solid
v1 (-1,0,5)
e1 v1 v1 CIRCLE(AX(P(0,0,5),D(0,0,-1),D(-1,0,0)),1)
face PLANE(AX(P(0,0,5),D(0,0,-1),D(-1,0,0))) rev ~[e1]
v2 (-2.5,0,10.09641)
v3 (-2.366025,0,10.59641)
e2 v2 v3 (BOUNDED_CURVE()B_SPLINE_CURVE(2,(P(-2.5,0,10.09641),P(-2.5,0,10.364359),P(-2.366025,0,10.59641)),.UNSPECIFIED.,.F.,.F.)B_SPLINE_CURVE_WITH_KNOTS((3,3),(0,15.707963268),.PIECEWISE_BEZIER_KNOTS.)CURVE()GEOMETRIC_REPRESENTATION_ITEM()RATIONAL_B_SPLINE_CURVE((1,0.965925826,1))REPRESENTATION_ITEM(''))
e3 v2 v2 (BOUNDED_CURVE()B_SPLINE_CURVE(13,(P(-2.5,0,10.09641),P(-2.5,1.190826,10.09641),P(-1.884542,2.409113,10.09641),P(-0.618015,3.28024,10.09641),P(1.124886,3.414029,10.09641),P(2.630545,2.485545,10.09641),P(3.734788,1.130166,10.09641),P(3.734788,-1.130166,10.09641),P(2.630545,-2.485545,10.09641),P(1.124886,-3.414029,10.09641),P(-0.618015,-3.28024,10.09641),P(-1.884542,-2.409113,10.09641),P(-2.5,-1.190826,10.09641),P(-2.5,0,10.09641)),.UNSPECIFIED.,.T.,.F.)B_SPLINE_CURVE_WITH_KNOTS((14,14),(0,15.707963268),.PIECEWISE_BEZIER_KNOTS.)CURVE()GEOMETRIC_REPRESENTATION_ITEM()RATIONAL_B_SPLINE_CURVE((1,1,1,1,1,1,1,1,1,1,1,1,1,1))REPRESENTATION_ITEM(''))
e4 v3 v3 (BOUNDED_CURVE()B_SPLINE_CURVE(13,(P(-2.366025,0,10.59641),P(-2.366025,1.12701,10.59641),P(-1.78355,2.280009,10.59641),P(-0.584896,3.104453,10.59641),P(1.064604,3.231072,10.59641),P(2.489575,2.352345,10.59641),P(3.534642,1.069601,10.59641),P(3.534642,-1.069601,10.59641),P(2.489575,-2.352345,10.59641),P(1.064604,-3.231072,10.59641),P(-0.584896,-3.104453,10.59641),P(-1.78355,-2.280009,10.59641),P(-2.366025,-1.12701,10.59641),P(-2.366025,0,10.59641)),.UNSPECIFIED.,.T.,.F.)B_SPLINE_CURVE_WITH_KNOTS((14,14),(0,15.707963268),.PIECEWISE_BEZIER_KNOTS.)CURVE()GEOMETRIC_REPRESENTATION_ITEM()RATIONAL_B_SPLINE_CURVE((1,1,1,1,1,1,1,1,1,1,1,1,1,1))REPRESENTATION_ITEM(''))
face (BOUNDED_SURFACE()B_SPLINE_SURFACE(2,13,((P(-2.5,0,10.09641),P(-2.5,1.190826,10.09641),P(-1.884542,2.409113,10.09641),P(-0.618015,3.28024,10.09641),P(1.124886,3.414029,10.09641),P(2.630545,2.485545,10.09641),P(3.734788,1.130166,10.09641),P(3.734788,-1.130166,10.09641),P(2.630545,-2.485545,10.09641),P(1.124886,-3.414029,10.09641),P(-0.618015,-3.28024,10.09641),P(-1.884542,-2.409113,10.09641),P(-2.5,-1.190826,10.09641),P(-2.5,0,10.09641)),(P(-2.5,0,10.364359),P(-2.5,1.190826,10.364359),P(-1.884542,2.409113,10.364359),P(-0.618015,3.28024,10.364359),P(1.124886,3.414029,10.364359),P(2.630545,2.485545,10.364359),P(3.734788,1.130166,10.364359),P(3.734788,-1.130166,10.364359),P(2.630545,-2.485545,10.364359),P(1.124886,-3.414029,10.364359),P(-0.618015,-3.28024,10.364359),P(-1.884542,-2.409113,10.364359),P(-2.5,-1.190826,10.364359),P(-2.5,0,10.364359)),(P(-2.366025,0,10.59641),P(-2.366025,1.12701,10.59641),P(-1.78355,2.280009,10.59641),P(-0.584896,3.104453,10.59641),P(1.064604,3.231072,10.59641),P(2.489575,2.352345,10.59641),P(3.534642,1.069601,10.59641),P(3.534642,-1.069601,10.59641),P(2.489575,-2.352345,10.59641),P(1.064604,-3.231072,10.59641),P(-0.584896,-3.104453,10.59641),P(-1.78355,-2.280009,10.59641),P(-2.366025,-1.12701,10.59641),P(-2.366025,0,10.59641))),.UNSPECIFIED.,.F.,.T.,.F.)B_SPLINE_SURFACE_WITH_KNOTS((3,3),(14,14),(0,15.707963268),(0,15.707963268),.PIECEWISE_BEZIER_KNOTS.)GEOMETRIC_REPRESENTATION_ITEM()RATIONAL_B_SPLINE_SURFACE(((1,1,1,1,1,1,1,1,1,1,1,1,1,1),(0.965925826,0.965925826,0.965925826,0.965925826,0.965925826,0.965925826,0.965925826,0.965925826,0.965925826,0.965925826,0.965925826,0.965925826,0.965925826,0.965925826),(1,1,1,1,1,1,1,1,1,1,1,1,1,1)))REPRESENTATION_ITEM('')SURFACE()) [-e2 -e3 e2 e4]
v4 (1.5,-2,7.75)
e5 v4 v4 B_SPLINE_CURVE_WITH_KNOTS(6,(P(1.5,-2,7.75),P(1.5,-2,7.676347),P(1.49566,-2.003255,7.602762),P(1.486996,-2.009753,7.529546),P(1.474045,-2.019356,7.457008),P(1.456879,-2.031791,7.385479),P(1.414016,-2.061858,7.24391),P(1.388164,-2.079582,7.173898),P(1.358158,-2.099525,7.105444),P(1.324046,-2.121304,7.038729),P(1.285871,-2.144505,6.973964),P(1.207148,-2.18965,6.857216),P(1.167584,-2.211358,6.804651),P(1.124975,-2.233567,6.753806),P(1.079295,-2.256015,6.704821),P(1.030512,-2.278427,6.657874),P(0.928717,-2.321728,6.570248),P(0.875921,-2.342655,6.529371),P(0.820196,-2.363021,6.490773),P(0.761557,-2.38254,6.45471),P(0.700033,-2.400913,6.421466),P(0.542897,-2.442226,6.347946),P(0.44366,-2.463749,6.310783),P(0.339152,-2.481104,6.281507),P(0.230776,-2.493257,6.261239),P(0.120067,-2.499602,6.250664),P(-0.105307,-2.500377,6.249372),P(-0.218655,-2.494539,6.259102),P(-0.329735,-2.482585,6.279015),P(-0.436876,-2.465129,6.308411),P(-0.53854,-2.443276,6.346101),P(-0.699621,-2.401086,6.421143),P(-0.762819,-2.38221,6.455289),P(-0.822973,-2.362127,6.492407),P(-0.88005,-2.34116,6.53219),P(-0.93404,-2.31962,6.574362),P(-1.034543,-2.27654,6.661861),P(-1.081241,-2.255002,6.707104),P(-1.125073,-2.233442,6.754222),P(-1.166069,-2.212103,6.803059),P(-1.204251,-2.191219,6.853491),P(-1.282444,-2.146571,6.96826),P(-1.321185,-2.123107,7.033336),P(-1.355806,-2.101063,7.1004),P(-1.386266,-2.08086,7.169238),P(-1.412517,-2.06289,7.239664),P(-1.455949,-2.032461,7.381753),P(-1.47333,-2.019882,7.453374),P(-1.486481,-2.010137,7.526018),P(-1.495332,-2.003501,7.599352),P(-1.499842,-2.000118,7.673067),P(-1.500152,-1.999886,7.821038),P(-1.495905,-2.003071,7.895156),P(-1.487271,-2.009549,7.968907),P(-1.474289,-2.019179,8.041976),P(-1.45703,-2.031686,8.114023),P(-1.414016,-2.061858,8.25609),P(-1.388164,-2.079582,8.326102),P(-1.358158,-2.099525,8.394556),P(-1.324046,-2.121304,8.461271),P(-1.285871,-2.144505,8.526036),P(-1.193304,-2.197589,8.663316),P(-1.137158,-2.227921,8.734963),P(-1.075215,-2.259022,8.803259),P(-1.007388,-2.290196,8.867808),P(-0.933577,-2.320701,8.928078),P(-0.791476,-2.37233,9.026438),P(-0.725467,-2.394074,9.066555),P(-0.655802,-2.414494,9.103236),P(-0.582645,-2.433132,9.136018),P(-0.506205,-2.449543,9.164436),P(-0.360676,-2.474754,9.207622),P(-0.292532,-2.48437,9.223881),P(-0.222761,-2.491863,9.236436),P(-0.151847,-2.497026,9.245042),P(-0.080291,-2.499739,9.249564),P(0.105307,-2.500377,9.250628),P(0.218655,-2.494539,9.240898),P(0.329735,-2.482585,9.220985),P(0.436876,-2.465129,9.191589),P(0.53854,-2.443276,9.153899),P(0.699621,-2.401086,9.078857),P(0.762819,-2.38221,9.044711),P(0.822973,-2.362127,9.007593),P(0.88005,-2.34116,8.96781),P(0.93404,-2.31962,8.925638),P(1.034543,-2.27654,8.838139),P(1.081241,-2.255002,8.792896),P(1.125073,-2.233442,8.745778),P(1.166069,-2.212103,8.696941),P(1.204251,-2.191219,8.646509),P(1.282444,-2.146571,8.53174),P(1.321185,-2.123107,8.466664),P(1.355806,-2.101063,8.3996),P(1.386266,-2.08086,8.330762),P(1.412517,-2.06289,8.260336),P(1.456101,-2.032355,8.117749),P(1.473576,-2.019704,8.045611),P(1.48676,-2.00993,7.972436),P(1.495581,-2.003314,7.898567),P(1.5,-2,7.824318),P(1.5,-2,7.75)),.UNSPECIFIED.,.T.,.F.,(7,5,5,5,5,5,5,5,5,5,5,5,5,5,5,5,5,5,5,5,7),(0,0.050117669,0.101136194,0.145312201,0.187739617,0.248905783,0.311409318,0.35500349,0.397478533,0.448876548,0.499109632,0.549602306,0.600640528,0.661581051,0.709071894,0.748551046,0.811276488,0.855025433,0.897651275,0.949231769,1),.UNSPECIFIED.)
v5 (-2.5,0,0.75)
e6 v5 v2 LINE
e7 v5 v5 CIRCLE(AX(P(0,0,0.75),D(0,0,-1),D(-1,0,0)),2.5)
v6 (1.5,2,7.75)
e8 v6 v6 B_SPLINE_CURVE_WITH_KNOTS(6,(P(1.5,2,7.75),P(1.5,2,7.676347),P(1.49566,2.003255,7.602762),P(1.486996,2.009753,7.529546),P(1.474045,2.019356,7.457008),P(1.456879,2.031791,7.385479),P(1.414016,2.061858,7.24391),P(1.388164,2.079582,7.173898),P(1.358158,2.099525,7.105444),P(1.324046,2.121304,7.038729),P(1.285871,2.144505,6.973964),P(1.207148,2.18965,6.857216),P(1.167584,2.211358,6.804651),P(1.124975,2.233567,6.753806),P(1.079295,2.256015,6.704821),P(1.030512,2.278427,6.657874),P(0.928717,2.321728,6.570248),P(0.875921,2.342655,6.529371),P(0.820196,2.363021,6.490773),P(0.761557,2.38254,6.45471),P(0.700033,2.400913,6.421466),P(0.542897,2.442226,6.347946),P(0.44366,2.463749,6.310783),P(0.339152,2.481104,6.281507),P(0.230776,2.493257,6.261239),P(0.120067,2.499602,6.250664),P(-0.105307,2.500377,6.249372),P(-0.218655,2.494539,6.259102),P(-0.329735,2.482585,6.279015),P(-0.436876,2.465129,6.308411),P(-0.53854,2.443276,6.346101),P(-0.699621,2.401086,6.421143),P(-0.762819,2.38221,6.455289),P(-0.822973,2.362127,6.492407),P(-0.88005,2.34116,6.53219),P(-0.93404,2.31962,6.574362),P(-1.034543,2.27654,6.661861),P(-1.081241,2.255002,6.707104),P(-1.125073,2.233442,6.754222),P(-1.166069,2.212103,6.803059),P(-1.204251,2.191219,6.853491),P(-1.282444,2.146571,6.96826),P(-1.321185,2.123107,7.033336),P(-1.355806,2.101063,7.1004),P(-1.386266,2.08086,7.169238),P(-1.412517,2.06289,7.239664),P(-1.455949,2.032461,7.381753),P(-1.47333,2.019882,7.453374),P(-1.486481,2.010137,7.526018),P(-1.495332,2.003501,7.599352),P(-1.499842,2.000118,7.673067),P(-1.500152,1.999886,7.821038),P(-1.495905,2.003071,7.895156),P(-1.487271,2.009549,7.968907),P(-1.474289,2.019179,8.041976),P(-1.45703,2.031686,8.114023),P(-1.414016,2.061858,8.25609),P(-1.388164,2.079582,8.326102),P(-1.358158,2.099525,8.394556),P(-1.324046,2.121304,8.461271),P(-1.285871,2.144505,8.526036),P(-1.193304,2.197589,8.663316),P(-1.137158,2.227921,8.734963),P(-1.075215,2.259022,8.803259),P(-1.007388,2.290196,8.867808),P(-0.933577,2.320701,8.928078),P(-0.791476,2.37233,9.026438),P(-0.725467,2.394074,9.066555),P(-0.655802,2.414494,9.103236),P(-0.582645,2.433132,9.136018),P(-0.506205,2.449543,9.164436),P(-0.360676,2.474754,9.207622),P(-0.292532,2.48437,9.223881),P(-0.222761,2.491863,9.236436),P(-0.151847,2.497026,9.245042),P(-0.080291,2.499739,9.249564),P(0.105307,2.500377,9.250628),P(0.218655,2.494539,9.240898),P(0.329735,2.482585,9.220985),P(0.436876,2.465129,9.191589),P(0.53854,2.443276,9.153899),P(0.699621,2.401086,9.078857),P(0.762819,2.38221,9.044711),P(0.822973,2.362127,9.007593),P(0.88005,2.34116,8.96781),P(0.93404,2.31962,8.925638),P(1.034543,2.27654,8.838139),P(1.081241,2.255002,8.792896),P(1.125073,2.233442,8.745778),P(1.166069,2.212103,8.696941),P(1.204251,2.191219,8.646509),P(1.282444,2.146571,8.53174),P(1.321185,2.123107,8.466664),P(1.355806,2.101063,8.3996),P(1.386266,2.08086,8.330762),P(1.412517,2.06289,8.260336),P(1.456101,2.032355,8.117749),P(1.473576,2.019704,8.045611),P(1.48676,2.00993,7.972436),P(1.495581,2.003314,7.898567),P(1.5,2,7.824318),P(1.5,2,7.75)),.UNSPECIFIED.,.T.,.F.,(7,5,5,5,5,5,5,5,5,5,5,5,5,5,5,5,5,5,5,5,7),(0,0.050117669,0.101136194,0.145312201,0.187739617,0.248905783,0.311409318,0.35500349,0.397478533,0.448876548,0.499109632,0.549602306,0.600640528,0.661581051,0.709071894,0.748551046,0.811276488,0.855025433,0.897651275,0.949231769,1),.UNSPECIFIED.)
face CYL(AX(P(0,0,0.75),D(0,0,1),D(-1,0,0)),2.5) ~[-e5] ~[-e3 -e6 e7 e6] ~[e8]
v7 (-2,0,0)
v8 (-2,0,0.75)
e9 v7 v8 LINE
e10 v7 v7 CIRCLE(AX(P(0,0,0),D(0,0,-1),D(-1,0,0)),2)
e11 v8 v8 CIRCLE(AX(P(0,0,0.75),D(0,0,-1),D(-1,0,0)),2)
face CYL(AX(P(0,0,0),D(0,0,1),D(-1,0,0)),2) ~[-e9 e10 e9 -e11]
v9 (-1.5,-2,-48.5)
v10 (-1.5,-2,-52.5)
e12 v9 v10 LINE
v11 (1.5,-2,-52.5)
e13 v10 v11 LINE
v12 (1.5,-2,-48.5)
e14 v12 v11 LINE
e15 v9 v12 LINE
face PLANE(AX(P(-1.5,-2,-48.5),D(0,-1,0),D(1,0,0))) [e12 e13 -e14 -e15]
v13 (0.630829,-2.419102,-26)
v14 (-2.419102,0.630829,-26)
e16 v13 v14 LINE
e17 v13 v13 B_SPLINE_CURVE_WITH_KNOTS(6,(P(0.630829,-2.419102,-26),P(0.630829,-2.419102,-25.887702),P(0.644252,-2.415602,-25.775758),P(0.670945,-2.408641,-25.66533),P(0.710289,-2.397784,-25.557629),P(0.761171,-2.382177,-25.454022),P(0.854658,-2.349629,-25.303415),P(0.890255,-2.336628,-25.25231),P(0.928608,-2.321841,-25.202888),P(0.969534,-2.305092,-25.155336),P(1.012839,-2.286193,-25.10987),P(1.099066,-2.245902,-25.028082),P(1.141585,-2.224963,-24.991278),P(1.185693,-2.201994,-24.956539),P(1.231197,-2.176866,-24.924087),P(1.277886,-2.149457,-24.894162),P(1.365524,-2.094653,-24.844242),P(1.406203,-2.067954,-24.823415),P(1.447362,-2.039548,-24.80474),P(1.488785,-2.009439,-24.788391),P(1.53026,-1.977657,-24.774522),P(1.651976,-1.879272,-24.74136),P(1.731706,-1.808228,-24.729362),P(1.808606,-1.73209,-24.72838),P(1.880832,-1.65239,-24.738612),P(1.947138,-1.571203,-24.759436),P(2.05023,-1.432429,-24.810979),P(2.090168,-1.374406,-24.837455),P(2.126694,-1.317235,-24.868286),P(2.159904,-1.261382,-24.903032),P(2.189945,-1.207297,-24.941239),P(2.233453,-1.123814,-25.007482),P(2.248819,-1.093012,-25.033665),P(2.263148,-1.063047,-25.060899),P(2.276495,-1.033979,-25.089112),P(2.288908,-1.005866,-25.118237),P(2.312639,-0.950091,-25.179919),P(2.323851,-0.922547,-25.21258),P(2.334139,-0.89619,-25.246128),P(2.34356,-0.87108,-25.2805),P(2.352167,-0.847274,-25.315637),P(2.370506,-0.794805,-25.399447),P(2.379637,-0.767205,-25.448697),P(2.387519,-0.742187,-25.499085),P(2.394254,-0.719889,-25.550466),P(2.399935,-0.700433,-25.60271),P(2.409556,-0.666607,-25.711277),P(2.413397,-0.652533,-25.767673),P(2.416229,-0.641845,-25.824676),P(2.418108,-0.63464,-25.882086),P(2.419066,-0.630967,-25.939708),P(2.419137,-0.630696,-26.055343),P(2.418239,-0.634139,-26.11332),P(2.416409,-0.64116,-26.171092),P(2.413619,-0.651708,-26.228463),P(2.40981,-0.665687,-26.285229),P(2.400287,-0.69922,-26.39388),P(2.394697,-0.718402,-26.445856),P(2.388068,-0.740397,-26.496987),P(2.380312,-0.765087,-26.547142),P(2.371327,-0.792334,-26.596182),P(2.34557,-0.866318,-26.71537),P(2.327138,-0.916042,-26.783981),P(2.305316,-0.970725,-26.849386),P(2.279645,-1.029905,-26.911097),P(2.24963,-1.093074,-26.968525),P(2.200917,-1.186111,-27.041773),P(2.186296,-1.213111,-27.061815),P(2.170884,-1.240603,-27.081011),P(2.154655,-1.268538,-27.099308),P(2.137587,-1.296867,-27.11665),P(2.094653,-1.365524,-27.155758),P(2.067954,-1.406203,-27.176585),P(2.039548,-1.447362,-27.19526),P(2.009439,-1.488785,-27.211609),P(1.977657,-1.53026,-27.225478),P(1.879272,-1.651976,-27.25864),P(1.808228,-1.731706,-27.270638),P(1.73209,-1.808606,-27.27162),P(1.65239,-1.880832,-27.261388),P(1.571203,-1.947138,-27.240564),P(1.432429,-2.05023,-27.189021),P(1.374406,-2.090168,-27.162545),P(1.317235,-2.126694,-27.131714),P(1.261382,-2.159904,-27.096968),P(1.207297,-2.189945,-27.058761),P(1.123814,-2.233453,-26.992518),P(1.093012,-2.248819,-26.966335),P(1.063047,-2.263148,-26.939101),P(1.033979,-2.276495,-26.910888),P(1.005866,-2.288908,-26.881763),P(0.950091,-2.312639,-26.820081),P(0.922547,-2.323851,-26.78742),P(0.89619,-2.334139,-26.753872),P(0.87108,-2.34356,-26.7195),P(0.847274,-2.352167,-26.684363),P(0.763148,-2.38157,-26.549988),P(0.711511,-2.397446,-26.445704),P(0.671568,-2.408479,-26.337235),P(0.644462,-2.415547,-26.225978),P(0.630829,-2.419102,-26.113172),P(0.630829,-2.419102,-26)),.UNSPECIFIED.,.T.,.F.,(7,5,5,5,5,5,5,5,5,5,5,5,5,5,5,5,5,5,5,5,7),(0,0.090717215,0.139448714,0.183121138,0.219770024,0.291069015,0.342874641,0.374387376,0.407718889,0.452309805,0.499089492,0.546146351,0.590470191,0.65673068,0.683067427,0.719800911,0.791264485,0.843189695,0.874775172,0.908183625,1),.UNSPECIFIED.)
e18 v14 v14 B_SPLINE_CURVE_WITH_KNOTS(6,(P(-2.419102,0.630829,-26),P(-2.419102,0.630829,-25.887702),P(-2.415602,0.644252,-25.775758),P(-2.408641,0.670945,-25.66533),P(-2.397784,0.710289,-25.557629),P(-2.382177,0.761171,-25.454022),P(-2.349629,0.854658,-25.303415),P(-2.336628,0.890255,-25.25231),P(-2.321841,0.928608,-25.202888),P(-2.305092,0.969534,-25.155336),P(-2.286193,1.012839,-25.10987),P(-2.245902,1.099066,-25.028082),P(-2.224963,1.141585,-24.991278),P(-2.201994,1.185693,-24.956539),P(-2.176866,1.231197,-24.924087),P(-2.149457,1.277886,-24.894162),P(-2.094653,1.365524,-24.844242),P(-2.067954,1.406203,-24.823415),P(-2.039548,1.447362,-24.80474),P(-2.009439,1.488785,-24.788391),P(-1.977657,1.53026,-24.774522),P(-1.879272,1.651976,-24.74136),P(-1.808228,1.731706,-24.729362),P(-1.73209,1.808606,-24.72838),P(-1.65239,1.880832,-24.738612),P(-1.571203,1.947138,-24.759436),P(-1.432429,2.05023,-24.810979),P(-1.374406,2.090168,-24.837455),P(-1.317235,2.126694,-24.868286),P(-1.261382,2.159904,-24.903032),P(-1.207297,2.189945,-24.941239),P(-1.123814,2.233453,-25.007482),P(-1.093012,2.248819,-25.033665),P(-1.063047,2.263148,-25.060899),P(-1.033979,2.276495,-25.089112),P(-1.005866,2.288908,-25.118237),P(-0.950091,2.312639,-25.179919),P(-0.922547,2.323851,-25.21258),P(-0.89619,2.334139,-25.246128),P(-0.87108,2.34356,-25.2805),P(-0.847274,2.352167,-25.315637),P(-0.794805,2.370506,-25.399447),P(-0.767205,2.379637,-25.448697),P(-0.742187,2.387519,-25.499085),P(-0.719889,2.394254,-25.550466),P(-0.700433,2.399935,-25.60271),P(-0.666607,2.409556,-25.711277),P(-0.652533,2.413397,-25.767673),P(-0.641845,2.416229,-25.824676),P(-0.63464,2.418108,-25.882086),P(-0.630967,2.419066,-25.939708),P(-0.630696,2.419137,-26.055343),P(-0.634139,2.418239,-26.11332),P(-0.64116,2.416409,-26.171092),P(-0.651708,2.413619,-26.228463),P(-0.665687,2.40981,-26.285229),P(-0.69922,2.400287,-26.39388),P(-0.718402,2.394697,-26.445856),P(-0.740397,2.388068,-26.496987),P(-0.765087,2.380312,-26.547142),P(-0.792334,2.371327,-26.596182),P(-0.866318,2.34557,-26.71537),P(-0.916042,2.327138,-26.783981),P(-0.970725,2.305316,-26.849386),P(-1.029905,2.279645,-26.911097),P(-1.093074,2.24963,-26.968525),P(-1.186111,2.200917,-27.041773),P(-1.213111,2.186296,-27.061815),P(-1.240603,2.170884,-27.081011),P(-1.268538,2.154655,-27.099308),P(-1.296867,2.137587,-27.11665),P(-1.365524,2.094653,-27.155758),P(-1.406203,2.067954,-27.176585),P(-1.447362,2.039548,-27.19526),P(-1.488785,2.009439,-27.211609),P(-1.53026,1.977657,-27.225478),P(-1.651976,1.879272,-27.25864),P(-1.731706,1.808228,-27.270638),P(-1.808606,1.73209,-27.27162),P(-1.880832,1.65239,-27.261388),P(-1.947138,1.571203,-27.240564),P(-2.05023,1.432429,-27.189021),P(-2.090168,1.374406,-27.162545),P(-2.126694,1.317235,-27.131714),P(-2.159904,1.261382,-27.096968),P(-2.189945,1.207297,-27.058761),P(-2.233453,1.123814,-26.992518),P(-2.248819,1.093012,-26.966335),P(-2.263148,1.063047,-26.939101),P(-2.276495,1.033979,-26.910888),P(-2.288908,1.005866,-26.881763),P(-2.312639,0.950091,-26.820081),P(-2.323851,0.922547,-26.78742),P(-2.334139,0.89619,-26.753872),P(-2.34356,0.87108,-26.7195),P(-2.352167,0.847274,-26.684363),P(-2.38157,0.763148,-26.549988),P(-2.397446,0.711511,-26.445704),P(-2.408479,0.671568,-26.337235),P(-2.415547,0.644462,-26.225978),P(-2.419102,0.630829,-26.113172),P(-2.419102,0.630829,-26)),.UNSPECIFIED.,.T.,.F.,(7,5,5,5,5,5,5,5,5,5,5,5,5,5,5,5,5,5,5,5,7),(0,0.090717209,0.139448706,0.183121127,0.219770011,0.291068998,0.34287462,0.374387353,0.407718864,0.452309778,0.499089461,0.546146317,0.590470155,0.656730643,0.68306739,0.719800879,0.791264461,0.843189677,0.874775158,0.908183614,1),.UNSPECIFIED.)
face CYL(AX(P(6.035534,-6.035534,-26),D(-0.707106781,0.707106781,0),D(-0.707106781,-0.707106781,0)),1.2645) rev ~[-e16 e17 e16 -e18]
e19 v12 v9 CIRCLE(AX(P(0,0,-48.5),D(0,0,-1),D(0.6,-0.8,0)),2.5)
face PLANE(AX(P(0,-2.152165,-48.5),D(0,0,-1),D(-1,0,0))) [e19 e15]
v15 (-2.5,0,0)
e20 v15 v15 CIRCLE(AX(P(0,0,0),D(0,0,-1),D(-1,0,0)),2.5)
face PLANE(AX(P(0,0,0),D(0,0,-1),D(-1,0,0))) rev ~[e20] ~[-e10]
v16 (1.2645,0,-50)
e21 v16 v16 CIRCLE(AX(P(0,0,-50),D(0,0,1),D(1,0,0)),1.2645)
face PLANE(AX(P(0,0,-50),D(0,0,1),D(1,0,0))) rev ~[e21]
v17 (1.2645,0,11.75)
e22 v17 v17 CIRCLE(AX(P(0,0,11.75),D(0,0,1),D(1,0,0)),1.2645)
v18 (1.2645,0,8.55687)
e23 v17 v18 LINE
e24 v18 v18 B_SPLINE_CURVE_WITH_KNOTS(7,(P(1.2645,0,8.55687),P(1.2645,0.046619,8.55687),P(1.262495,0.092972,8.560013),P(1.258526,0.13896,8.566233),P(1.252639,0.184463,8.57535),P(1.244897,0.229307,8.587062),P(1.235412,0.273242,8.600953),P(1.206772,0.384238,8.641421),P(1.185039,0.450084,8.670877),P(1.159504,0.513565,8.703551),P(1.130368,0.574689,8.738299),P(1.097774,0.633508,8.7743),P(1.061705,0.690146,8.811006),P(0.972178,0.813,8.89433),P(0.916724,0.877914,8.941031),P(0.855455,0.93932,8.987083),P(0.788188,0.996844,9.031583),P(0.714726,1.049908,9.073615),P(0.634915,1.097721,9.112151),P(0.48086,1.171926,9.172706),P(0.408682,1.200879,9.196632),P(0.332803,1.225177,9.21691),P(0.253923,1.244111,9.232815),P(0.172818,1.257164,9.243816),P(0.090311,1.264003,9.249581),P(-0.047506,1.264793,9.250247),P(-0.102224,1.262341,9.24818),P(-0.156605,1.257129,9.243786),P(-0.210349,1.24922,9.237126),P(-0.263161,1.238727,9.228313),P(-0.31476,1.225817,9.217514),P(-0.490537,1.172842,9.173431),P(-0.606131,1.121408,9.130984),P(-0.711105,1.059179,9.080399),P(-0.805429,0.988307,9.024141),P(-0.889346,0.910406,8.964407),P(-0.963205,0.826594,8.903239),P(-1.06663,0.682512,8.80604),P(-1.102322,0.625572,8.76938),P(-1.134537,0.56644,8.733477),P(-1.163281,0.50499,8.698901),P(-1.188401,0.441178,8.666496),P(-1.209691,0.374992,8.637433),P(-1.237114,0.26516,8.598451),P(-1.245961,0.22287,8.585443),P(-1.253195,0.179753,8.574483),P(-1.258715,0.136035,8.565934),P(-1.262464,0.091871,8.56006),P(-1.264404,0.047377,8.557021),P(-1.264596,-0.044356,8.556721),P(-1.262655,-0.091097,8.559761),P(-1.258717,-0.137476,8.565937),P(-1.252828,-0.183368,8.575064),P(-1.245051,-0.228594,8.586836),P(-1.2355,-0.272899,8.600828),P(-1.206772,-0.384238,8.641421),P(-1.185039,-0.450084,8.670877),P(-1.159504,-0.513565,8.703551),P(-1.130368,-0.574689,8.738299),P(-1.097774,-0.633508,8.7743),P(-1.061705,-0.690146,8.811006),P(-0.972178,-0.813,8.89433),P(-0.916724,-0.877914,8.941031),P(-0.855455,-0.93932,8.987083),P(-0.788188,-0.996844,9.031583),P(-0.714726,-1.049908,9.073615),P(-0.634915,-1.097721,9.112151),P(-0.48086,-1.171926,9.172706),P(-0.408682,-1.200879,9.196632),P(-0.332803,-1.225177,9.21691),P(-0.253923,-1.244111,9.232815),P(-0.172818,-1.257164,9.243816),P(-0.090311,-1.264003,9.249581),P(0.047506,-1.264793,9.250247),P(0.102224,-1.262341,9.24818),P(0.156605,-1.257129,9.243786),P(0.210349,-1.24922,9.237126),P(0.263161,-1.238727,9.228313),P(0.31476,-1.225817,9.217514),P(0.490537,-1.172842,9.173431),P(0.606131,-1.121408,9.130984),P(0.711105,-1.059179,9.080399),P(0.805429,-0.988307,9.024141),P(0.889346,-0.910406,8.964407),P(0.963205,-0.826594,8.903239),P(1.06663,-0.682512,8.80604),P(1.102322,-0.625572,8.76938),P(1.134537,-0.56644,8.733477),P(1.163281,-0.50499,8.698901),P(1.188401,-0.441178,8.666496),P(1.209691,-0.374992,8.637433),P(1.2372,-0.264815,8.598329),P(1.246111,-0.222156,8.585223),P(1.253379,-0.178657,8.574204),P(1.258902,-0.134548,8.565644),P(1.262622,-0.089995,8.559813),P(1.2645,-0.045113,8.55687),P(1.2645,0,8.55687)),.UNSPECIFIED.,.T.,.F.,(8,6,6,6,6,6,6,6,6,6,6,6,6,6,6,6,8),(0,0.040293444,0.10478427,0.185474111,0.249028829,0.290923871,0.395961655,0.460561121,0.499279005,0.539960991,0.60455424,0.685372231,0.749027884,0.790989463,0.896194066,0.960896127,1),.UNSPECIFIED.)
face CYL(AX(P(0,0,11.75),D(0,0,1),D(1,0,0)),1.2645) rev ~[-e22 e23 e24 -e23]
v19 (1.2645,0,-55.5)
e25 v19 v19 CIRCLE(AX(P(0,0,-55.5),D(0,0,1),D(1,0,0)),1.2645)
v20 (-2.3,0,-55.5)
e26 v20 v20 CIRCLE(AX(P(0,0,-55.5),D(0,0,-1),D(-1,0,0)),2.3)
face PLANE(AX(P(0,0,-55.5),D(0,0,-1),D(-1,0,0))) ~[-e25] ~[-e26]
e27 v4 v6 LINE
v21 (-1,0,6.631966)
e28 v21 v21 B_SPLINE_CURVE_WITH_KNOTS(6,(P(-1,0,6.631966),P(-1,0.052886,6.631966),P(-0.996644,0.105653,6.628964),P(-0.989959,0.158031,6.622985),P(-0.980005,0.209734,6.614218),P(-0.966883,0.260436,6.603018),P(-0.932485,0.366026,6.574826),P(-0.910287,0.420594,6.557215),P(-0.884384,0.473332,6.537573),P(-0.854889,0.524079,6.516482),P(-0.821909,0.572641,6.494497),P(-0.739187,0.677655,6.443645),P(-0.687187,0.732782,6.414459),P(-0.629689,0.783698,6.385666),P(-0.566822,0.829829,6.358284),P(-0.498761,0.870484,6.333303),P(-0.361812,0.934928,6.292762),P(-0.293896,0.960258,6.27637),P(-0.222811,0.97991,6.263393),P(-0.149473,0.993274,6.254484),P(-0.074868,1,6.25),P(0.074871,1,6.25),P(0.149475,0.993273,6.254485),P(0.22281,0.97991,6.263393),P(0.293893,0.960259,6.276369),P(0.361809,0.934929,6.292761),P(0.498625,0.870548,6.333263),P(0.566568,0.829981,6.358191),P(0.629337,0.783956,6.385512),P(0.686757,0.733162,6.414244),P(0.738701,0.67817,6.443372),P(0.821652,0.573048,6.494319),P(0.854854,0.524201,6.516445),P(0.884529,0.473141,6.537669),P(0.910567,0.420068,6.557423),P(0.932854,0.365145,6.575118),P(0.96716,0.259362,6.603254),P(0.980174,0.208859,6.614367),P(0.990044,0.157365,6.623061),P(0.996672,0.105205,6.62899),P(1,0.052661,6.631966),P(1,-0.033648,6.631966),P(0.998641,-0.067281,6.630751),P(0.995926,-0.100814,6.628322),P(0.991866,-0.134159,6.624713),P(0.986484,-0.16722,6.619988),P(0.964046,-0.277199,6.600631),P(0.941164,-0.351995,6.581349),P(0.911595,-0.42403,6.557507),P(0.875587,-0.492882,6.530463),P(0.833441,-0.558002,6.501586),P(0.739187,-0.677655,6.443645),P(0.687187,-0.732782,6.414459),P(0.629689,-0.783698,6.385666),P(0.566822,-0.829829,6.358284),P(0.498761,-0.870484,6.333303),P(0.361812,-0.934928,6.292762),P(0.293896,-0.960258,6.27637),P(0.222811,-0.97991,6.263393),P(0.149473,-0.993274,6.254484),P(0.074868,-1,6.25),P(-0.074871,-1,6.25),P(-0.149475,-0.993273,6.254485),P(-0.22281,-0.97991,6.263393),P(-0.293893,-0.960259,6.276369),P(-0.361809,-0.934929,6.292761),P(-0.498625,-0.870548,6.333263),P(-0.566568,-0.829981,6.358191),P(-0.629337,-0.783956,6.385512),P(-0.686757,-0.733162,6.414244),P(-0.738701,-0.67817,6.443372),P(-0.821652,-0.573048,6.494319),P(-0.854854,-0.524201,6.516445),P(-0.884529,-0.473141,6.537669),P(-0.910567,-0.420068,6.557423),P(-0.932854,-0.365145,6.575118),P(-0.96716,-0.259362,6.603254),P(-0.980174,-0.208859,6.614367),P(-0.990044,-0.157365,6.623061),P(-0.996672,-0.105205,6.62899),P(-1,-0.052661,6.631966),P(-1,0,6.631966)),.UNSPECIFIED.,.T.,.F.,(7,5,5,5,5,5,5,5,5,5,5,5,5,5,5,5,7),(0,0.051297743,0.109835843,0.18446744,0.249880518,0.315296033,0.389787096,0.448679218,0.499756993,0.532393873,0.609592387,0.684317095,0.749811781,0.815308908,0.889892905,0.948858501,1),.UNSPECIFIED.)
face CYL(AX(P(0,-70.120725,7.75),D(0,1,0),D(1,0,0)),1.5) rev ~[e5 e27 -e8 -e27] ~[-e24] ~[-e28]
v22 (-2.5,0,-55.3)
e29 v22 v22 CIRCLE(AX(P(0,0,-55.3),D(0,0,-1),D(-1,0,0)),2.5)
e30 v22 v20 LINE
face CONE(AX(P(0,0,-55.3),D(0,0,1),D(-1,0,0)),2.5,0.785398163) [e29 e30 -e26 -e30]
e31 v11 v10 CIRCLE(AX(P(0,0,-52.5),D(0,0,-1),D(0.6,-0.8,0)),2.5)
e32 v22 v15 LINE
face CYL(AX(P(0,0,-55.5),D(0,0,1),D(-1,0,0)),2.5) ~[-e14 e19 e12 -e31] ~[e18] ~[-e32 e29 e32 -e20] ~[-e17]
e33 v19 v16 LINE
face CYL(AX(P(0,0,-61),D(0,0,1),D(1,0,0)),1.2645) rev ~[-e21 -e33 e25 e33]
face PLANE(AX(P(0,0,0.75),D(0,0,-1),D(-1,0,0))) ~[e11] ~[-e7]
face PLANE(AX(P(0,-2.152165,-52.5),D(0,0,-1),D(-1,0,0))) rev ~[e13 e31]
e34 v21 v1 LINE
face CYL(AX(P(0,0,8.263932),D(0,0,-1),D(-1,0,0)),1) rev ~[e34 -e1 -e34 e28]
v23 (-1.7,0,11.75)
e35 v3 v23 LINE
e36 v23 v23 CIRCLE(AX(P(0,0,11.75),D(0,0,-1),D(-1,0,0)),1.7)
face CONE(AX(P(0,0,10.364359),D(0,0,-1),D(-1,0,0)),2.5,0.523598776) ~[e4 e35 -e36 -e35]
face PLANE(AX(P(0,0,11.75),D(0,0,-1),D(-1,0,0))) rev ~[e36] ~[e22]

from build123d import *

# Parameters (mm, degrees)
CUT_EXTRUDE1_START           = -4
CUT_EXTRUDE1_DEPTH           = 4
F_3_0_3_DIAMETER_HOLE1_D     = 3
M2_CLEARANCE_HOLE1_REACH     = 69.343
M2_CLEARANCE_HOLE1_BORE_R    = 1.2645
F_2_0_2_DIAMETER_HOLE1_D     = 2
F_2_0_2_DIAMETER_HOLE1_DEPTH = 1.631966011
M2_CLEARANCE_HOLE2_D         = 2.529
M2_CLEARANCE_HOLE2_DEPTH     = 5.5
M2_CLEARANCE_HOLE3_D         = 2.529
M2_CLEARANCE_HOLE3_DEPTH     = 6.035533906
CHAMFER1_SIZE                = 0.2
FILLET1_R                    = 1


with BuildPart() as part:
    # Sketch1 → Revolve1 (revolve)
    with BuildSketch(Plane.XZ, mode=Mode.PRIVATE) as revolve1_sk:
        Polygon((1.7, 11.75), (0, 11.75), (0, -55.5), (2.5, -55.5), (2.5, 0), (2, 0), (2, 0.75), (2.5, 0.75), (2.5, 10.364359354), align=None)
    revolve(revolve1_sk.sketch.rotate(Axis((0, 0, 11.75), (0, 0, -1)), 180), axis=Axis((0, 0, 11.75), (0, 0, -1)))

    # Sketch2 → Cut-Extrude1 (cut)
    with BuildSketch(Plane(origin=(0, 0, -52.5), x_dir=(-1, 0, 0), z_dir=(0, 0, -1)).offset(CUT_EXTRUDE1_START)):
        with BuildLine():
            Line((1.5, -2), (-1.5, -2))
            ThreePointArc((-1.5, -2), (0, -2.5), (1.5, -2))
        make_face()
    extrude(amount=CUT_EXTRUDE1_DEPTH, mode=Mode.SUBTRACT)

    # Ø3.0 (3) Diameter Hole1 (through all)
    with Locations(Plane(origin=(0, -2.5, 7.75), x_dir=(-1, 0, 0), z_dir=(0, -1, 0))):
        with Locations((0, 0)):
            Hole(F_3_0_3_DIAMETER_HOLE1_D / 2)

    # M2 Clearance Hole1 bore → M2 Clearance Hole1 (cut, up to next)
    with BuildSketch(Plane.XY.offset(11.75), mode=Mode.PRIVATE) as m2_clearance_hole1_sk1:
        Circle(M2_CLEARANCE_HOLE1_BORE_R)
    m2_clearance_hole1_tool1 = extrude(m2_clearance_hole1_sk1.sketch, amount=-M2_CLEARANCE_HOLE1_REACH, mode=Mode.PRIVATE) & part.part
    add(m2_clearance_hole1_tool1.solids().sort_by_distance((0, 0, 11.75))[0], mode=Mode.SUBTRACT)

    # Ø2.0 (2) Diameter Hole1
    with Locations(Plane.XY.offset(6.631966011)):
        with Locations((0, 0)):
            Hole(F_2_0_2_DIAMETER_HOLE1_D / 2, depth=F_2_0_2_DIAMETER_HOLE1_DEPTH)

    # M2 Clearance Hole2
    with Locations(Plane(origin=(0, 0, -55.5), x_dir=(-1, 0, 0), z_dir=(0, 0, -1))):
        with Locations((0, 0)):
            Hole(M2_CLEARANCE_HOLE2_D / 2, depth=M2_CLEARANCE_HOLE2_DEPTH)

    # M2 Clearance Hole3
    with Locations(Plane(origin=(1.767766953, -1.767766953, -26), x_dir=(0.707106781187, 0.707106781187, 0), z_dir=(0.707106781187, -0.707106781187, 0))):
        with Locations((0, 0)):
            Hole(M2_CLEARANCE_HOLE3_D / 2, depth=M2_CLEARANCE_HOLE3_DEPTH)

    # Chamfer1
    chamfer1_edges = [part.edges().sort_by_distance(p)[0] for p in [
        (2.5, 0, -55.5),
    ]]
    chamfer(chamfer1_edges, length=CHAMFER1_SIZE)

    # Fillet1
    fillet1_edges = [part.edges().sort_by_distance(p)[0] for p in [
        (2.5, 0, 10.364359354),
    ]]
    fillet(fillet1_edges, radius=FILLET1_R)


solid = part.part
